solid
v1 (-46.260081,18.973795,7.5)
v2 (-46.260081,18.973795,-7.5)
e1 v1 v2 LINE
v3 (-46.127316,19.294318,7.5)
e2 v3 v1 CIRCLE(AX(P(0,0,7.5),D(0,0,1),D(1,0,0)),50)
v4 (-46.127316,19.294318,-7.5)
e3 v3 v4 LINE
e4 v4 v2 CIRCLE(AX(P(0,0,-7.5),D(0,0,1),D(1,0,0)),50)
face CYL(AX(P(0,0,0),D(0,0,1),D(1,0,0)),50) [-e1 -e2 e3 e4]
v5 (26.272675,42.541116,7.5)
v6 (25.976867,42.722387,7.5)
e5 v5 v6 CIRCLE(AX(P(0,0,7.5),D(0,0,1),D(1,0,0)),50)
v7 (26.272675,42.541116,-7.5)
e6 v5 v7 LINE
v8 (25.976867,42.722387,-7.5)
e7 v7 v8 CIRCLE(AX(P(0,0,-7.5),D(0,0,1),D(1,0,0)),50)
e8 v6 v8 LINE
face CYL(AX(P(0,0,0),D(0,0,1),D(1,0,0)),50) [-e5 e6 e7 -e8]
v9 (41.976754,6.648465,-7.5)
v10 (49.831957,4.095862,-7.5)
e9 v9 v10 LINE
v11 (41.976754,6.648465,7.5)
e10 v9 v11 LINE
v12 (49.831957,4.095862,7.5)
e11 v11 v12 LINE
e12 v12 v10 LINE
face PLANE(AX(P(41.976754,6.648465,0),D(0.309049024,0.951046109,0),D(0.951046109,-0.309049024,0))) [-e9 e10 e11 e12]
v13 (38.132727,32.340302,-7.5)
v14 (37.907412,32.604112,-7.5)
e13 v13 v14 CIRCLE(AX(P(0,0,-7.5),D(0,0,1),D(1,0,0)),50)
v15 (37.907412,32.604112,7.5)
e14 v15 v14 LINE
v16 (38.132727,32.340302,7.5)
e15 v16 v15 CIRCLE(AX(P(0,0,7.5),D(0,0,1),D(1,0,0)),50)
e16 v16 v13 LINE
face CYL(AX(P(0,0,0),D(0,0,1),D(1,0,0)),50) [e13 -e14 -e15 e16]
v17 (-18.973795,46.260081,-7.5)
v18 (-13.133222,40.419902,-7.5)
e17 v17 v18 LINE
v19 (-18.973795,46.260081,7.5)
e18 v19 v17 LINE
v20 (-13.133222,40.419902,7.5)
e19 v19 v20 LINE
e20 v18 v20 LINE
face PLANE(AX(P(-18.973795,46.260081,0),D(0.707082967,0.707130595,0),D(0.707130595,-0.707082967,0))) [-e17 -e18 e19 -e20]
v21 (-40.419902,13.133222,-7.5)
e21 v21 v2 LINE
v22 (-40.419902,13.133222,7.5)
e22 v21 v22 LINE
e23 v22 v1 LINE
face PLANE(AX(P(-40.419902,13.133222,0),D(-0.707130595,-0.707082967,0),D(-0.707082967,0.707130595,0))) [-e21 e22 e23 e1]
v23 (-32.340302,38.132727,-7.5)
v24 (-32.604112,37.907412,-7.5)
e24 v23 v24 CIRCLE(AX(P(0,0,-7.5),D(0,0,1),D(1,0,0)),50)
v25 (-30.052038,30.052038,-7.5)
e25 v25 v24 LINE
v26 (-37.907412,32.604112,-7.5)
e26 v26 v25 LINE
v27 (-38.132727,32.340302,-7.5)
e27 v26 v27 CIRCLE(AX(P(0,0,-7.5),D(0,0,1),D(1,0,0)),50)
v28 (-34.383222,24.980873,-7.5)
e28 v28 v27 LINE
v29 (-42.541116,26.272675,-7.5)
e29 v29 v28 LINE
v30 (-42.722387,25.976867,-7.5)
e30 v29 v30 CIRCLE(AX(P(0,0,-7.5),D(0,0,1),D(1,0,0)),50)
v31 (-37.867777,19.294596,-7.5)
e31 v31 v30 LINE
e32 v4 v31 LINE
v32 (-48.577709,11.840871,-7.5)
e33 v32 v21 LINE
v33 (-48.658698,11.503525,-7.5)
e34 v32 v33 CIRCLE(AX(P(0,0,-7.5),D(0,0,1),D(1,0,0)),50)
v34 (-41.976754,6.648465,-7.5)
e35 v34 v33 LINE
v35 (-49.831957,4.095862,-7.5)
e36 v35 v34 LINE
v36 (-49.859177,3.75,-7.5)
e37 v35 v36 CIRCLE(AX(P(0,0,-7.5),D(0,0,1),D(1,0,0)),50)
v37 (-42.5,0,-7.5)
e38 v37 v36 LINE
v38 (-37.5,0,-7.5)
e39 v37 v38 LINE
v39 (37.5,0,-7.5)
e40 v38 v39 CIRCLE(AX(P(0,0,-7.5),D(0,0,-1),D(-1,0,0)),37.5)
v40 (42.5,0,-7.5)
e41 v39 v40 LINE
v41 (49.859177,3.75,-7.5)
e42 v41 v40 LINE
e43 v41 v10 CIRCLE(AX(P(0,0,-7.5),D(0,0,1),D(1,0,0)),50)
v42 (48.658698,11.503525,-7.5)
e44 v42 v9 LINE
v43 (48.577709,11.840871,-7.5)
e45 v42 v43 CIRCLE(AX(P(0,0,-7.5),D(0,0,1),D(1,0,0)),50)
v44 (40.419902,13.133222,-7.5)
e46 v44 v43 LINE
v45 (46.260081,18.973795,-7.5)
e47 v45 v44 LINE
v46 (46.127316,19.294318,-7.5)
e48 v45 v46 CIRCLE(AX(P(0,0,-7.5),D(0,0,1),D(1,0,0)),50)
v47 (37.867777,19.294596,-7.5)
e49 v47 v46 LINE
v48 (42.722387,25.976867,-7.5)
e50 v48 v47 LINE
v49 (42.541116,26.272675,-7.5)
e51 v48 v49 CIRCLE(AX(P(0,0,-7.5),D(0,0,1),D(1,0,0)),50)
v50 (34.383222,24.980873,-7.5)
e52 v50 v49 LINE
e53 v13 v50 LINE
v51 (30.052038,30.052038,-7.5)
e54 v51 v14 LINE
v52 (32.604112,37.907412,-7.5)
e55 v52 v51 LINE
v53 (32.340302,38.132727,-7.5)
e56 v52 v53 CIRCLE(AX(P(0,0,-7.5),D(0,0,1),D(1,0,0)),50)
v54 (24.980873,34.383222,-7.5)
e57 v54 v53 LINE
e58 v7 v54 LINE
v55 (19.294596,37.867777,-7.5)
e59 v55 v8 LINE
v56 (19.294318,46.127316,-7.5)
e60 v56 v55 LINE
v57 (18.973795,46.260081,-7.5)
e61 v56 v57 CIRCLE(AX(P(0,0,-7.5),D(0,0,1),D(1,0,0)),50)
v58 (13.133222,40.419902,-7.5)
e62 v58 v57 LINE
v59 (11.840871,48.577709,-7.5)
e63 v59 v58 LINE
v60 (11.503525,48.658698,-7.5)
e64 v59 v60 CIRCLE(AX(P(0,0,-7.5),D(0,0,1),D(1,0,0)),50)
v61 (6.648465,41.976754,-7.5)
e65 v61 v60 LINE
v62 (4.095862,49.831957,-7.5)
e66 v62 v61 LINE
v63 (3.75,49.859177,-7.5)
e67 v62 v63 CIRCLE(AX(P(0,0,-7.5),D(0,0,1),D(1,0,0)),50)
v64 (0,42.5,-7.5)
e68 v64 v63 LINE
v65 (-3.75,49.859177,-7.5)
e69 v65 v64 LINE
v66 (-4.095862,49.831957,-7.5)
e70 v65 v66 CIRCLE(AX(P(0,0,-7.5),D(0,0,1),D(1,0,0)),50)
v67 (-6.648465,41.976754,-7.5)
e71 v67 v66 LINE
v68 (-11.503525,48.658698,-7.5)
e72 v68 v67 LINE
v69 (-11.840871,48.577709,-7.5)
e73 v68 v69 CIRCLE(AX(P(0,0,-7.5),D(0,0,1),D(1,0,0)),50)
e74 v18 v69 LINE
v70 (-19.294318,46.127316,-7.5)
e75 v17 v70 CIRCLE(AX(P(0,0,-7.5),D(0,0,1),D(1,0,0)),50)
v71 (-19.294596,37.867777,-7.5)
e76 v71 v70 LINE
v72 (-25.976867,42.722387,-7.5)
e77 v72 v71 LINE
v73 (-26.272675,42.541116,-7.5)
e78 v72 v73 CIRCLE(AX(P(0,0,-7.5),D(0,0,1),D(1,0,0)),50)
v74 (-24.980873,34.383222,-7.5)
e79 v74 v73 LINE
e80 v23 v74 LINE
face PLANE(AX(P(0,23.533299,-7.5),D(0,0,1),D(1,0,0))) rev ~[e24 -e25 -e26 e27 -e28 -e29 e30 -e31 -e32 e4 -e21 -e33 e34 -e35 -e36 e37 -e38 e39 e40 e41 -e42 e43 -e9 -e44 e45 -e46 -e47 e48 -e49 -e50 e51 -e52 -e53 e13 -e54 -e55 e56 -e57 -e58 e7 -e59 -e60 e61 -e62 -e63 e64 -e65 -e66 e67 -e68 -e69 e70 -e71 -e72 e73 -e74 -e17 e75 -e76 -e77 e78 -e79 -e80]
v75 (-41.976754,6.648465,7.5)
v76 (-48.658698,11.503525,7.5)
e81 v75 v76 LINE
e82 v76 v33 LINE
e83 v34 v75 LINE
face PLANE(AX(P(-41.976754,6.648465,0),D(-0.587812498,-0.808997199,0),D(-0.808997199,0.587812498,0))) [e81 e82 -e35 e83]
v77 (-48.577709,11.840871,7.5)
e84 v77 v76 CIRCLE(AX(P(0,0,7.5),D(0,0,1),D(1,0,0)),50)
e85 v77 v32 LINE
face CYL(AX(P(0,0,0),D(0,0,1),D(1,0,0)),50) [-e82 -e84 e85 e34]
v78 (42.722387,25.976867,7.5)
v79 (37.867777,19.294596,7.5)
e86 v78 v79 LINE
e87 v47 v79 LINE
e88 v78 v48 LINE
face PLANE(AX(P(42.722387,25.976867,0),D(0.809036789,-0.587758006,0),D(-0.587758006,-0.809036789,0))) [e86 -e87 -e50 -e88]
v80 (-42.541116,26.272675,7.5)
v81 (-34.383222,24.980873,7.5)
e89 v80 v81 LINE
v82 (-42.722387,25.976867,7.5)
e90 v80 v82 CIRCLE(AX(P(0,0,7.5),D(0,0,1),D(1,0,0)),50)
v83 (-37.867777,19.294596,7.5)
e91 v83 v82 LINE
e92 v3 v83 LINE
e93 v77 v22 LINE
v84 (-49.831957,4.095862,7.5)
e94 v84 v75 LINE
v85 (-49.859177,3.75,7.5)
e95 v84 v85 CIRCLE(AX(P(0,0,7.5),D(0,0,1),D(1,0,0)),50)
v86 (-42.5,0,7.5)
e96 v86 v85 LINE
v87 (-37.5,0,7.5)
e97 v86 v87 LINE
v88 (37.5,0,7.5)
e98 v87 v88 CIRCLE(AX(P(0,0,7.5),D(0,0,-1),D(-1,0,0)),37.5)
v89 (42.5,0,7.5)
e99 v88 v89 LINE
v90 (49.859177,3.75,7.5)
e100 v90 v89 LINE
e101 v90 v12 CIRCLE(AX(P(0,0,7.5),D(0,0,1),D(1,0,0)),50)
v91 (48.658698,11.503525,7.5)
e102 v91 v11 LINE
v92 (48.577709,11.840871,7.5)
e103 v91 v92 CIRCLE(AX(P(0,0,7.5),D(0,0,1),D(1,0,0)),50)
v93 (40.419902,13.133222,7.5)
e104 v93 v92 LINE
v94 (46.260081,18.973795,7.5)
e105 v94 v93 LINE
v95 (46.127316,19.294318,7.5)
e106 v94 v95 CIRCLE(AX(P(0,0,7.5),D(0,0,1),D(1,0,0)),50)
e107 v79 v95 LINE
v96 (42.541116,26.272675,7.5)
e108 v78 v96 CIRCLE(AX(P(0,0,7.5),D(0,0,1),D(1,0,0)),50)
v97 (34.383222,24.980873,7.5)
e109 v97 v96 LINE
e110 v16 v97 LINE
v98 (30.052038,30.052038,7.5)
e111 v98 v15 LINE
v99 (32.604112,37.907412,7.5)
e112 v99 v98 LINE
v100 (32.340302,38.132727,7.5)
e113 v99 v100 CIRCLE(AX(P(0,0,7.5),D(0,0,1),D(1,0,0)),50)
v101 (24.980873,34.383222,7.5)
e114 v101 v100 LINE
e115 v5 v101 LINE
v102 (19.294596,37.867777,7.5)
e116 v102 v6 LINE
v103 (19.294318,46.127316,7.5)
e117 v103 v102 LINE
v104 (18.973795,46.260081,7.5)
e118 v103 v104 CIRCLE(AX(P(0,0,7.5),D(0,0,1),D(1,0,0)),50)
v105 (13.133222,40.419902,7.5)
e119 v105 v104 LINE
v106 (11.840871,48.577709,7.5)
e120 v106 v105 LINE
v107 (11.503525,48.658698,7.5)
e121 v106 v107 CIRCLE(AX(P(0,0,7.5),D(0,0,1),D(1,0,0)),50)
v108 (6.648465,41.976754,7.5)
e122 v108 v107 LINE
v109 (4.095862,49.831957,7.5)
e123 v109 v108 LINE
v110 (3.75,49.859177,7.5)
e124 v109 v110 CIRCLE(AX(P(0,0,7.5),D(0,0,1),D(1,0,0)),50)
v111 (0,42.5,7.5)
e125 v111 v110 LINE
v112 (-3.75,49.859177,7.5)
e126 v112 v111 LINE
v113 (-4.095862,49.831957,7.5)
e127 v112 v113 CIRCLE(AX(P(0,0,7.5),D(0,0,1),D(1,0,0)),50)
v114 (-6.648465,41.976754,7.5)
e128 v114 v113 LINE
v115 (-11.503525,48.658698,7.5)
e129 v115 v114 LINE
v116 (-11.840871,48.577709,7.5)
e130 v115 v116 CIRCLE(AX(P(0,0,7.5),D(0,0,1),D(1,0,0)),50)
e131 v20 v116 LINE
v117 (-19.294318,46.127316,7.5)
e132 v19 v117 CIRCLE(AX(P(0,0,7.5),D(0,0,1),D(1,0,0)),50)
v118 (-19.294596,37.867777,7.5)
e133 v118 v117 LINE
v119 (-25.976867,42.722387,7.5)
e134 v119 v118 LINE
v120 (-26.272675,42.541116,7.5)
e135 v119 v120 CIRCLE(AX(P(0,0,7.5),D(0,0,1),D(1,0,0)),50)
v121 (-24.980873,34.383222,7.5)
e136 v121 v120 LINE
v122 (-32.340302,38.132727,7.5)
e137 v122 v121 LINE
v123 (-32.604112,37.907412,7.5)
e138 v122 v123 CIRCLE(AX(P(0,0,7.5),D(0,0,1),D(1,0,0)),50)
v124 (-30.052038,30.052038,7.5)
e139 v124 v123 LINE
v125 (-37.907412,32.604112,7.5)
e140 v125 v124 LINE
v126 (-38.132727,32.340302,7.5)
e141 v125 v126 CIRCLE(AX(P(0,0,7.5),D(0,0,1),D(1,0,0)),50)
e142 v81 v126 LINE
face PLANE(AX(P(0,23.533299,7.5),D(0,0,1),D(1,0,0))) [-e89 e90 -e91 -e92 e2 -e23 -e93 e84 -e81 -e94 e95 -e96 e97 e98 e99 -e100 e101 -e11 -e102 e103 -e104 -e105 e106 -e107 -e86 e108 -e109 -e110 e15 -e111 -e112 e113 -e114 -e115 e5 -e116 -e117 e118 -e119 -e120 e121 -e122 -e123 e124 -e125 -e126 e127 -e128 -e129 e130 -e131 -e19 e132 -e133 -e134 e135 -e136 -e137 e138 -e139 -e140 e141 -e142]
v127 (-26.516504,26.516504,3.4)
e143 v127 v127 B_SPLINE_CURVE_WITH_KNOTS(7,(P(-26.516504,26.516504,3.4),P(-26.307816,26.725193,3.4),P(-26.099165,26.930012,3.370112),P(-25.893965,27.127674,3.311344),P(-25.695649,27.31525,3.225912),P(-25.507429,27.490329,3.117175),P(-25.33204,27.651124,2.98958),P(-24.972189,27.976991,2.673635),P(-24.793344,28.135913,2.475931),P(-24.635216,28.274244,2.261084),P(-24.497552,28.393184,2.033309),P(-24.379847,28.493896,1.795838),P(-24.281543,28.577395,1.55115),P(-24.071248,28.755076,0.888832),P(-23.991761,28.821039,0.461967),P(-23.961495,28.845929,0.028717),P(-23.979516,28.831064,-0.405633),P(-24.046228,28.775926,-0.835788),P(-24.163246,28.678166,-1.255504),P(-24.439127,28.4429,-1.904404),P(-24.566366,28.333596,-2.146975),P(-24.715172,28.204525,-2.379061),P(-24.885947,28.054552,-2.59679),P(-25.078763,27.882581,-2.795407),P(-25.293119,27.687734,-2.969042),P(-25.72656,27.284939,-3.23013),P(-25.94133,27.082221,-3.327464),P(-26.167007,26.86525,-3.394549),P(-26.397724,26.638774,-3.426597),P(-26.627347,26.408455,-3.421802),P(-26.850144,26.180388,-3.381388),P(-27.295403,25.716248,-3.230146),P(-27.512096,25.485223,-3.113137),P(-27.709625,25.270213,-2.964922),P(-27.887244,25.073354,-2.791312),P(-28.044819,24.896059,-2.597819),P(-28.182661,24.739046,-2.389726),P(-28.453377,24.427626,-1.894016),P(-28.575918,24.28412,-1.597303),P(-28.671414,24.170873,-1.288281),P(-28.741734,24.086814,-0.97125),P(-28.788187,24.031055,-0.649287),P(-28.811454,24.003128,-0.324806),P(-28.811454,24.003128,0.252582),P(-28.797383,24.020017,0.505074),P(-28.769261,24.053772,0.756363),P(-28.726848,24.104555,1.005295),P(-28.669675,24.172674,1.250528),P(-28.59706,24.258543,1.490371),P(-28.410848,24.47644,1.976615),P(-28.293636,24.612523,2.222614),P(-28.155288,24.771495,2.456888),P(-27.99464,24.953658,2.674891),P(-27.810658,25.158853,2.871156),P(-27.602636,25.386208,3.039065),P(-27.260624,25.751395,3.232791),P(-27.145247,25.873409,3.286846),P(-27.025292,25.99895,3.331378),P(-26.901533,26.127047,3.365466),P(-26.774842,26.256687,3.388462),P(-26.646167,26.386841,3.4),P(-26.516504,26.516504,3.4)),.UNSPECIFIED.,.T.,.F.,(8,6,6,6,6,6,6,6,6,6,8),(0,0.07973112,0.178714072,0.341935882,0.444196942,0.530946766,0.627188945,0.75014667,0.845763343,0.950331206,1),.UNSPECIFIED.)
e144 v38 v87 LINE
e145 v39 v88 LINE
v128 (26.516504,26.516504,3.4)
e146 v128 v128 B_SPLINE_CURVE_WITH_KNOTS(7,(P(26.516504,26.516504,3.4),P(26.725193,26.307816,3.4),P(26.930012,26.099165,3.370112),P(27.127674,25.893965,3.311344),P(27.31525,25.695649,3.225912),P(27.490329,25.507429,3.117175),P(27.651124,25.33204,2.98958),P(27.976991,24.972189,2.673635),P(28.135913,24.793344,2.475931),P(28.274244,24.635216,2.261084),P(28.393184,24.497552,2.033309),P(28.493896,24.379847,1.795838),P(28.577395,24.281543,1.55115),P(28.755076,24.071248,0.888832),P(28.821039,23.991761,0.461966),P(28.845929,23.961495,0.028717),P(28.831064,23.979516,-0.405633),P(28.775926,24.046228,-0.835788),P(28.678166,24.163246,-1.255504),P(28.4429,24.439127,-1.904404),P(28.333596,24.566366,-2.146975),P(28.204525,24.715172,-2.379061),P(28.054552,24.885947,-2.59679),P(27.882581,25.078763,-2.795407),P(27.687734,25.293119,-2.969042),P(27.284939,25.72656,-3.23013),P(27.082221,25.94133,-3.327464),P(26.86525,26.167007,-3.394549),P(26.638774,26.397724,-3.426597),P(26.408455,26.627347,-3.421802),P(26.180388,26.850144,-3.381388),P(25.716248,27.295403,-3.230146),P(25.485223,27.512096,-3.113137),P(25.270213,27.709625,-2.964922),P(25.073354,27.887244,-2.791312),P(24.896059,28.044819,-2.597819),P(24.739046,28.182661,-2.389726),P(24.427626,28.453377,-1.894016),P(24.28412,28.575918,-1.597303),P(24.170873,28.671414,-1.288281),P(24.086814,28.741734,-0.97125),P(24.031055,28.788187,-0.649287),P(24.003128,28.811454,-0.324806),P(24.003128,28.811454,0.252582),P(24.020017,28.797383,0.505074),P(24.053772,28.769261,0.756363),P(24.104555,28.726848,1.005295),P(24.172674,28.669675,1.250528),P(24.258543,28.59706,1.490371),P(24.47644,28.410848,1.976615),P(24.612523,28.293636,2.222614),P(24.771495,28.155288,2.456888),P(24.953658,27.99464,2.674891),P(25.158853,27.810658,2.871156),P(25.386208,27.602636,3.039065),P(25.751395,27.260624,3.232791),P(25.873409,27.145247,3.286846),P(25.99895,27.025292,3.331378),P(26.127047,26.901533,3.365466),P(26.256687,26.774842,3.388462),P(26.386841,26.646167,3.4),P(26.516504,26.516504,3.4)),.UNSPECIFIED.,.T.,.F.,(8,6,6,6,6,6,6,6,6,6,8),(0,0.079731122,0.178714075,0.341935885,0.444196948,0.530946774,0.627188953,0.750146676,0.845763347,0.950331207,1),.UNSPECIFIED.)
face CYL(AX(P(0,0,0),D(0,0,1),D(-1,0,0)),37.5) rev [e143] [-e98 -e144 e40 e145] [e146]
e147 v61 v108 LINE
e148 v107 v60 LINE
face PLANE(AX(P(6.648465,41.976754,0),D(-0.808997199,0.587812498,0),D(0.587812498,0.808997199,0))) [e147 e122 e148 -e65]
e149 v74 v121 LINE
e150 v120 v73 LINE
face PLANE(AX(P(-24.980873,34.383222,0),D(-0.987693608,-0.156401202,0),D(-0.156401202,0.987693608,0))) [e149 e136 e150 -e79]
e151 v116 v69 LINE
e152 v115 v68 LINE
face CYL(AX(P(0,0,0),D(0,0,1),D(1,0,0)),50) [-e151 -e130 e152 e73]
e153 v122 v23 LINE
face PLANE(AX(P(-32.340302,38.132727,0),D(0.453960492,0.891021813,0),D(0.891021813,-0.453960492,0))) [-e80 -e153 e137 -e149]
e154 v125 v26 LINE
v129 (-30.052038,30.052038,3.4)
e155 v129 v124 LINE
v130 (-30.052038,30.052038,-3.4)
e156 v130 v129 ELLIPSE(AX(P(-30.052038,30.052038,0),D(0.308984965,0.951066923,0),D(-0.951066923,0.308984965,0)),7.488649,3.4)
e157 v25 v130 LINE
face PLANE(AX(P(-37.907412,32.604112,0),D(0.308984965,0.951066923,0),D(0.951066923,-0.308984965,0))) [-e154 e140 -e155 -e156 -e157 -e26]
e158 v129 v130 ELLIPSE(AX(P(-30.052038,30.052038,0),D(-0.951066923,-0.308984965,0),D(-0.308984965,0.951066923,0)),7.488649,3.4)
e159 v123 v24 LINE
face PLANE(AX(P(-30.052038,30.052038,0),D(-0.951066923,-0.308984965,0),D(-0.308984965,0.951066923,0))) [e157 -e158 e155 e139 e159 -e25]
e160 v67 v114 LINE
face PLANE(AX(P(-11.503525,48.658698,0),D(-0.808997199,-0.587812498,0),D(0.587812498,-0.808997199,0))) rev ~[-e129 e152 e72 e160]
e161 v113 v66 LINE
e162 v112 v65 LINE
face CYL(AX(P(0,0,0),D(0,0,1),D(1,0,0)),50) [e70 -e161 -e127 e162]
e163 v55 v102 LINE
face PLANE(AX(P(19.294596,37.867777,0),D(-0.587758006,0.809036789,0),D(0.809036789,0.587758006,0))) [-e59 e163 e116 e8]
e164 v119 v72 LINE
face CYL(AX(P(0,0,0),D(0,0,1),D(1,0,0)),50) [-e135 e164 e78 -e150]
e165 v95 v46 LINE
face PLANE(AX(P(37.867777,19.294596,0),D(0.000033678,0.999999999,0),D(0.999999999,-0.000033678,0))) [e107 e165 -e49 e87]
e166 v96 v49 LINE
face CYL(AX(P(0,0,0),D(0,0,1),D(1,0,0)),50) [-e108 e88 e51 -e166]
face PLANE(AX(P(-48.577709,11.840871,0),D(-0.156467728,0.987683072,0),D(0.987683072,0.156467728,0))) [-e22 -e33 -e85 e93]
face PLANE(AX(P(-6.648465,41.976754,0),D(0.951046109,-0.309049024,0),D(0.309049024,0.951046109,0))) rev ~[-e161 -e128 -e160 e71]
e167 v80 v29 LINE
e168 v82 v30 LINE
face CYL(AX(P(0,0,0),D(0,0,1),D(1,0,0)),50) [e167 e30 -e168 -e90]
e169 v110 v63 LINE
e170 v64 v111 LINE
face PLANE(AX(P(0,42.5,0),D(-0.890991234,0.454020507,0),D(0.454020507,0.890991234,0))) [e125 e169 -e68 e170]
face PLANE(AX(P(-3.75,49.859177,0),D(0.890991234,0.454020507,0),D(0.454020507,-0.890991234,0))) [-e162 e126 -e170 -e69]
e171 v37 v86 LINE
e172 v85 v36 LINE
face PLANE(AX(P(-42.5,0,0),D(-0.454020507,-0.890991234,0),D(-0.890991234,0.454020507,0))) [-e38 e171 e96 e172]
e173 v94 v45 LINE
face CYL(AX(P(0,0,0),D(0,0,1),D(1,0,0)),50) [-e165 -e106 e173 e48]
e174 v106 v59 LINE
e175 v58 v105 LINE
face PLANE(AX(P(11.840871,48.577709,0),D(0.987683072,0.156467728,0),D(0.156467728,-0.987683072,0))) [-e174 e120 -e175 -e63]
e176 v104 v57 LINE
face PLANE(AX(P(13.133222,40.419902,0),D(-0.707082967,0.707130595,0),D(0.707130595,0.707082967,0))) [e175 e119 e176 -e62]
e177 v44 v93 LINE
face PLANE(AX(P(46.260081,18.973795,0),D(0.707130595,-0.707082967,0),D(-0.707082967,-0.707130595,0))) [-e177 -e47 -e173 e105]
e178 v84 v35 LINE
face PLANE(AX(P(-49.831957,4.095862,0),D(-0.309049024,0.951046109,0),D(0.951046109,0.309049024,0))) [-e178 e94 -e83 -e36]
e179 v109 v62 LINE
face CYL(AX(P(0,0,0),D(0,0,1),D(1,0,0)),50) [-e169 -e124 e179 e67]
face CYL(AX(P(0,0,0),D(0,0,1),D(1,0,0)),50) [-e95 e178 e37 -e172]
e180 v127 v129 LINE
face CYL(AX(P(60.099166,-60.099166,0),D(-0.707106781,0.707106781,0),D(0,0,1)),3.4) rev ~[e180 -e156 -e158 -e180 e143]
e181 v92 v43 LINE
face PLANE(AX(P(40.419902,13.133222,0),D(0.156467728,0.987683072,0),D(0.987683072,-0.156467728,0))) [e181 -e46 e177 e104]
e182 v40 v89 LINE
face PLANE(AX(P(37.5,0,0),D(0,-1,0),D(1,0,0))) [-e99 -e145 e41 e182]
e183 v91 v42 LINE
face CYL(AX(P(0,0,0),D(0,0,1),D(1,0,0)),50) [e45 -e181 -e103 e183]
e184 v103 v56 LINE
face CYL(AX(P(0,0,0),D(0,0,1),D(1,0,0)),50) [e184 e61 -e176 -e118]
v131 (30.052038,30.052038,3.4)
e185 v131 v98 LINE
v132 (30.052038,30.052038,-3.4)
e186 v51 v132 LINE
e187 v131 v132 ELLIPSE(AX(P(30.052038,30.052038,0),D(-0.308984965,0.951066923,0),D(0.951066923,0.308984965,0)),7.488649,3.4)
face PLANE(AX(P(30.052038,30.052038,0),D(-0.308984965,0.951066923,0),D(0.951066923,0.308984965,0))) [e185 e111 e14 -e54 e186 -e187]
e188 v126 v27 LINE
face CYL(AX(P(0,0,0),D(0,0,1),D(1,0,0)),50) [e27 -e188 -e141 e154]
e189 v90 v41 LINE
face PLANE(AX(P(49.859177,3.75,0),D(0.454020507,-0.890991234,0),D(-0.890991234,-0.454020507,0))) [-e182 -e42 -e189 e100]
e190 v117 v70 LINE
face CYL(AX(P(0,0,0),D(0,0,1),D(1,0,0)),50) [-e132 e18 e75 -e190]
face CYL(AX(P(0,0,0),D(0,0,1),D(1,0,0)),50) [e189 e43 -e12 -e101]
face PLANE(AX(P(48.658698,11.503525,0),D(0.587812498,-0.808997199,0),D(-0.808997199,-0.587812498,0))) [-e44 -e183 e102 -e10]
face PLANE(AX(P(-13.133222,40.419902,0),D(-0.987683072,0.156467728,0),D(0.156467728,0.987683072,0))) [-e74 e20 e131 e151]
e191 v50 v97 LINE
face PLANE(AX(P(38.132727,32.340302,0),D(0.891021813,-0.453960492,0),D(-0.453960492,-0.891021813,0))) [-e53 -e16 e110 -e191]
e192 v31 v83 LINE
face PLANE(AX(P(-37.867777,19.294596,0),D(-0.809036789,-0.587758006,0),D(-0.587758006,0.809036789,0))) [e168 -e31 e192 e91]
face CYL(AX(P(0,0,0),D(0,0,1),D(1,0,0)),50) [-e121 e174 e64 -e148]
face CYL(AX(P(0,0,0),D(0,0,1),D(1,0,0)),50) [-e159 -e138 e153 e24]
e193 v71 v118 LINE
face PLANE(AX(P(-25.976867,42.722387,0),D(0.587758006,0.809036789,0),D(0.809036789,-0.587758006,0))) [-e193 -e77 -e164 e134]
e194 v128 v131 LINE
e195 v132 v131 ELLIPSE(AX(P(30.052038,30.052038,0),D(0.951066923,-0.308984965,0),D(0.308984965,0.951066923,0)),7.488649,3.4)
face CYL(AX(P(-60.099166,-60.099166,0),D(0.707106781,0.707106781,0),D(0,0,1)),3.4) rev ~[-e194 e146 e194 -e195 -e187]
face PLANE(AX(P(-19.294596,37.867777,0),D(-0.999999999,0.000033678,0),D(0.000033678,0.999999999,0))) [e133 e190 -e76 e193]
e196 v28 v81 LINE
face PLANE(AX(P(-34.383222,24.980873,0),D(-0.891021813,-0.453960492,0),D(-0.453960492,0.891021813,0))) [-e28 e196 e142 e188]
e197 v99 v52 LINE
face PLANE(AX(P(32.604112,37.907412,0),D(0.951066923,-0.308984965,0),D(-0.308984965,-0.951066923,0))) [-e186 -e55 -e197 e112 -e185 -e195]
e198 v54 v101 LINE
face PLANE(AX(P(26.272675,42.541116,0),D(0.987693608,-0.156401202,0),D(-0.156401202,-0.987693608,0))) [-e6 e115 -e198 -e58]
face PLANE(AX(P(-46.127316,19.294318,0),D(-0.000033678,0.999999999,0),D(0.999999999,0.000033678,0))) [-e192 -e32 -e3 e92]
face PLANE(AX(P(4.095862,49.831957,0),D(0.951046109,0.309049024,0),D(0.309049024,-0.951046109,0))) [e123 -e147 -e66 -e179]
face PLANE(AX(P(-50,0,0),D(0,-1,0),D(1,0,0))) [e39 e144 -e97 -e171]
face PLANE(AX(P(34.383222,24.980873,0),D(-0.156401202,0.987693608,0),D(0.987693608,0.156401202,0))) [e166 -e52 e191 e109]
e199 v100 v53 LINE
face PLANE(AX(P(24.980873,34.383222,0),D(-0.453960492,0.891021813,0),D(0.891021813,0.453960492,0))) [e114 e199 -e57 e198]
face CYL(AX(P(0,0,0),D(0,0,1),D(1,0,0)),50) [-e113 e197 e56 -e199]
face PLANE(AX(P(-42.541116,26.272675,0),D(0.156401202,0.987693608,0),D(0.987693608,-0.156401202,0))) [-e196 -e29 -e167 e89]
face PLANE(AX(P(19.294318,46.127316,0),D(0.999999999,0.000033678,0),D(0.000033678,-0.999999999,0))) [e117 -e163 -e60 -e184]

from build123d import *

# Parameters (mm, degrees)
BOSS_EXTRUDE1_DEPTH    = 7.5
CUT_EXTRUDE1_DEPTH     = 7.5
M8X1_25_TAPPED_HOLE4_D = 6.8
M8X1_25_TAPPED_HOLE5_D = 6.8


with BuildPart() as part:
    # Sketch1 → Boss-Extrude1 (new body, symmetric)
    with BuildSketch(Plane.XY):
        with BuildLine():
            Line((-50, 0), (-37.5, 0))
            ThreePointArc((-37.5, 0), (0, 37.5), (37.5, 0))
            Line((37.5, 0), (50, 0))
            ThreePointArc((50, 0), (0, 50), (-50, 0))
        make_face()
    extrude(amount=BOSS_EXTRUDE1_DEPTH, both=True)

    # Sketch2 → Cut-Extrude1 (cut, symmetric)
    with BuildSketch(Plane.XY):
        with BuildLine():
            Line((-3.75, 49.859176688), (0, 42.5))
            Line((0, 42.5), (3.75, 49.859176688))
            ThreePointArc((3.75, 49.859176688), (0, 50), (-3.75, 49.859176688))
        make_face()
        with BuildLine():
            Line((4.095862355, 49.83195673), (6.648464764, 41.976754475))
            Line((6.648464764, 41.976754475), (11.50352491, 48.658698242))
            ThreePointArc((11.50352491, 48.658698242), (7.821723252, 49.38441703), (4.095862355, 49.83195673))
        make_face()
        with BuildLine():
            Line((11.840870986, 48.577708615), (13.133222261, 40.419901943))
            Line((13.133222261, 40.419901943), (18.973794858, 46.260081157))
            ThreePointArc((18.973794858, 46.260081157), (15.450849719, 47.552825815), (11.840870986, 48.577708615))
        make_face()
        with BuildLine():
            Line((19.294318075, 46.127316094), (19.294596239, 37.867777278))
            Line((19.294596239, 37.867777278), (25.976867007, 42.722387346))
            ThreePointArc((25.976867007, 42.722387346), (22.699524987, 44.550326209), (19.294318075, 46.127316094))
        make_face()
        with BuildLine():
            Line((26.27267502, 42.541115962), (24.980873222, 34.383222261))
            Line((24.980873222, 34.383222261), (32.340302478, 38.13272657))
            ThreePointArc((32.340302478, 38.13272657), (29.389262615, 40.450849719), (26.27267502, 42.541115962))
        make_face()
        with BuildLine():
            Line((32.604111511, 37.90741237), (30.0520382, 30.0520382))
            Line((30.0520382, 30.0520382), (37.90741237, 32.604111511))
            ThreePointArc((37.90741237, 32.604111511), (35.355339059, 35.355339059), (32.604111511, 37.90741237))
        make_face()
        with BuildLine():
            Line((38.13272657, 32.340302478), (34.383222261, 24.980873222))
            Line((34.383222261, 24.980873222), (42.541115962, 26.27267502))
            ThreePointArc((42.541115962, 26.27267502), (40.450849719, 29.389262615), (38.13272657, 32.340302478))
        make_face()
        with BuildLine():
            Line((42.722387346, 25.976867007), (37.867777278, 19.294596239))
            Line((37.867777278, 19.294596239), (46.127316094, 19.294318075))
            ThreePointArc((46.127316094, 19.294318075), (44.550326209, 22.699524987), (42.722387346, 25.976867007))
        make_face()
        with BuildLine():
            Line((46.260081157, 18.973794858), (40.419901943, 13.133222261))
            Line((40.419901943, 13.133222261), (48.577708615, 11.840870986))
            ThreePointArc((48.577708615, 11.840870986), (47.552825815, 15.450849719), (46.260081157, 18.973794858))
        make_face()
        with BuildLine():
            Line((48.658698242, 11.50352491), (41.976754475, 6.648464764))
            Line((41.976754475, 6.648464764), (49.83195673, 4.095862355))
            ThreePointArc((49.83195673, 4.095862355), (49.38441703, 7.821723252), (48.658698242, 11.50352491))
        make_face()
        with BuildLine():
            Line((49.859176688, 3.75), (42.5, 0))
            Line((42.5, 0), (49.859176688, -3.75))
            ThreePointArc((49.859176688, -3.75), (50, 0), (49.859176688, 3.75))
        make_face()
        with BuildLine():
            Line((-49.859176688, -3.75), (-42.5, 0))
            Line((-42.5, 0), (-49.859176688, 3.75))
            ThreePointArc((-49.859176688, 3.75), (-50, 0), (-49.859176688, -3.75))
        make_face()
        with BuildLine():
            Line((-49.83195673, 4.095862355), (-41.976754475, 6.648464764))
            Line((-41.976754475, 6.648464764), (-48.658698242, 11.50352491))
            ThreePointArc((-48.658698242, 11.50352491), (-49.38441703, 7.821723252), (-49.83195673, 4.095862355))
        make_face()
        with BuildLine():
            Line((-48.577708615, 11.840870986), (-40.419901943, 13.133222261))
            Line((-40.419901943, 13.133222261), (-46.260081157, 18.973794858))
            ThreePointArc((-46.260081157, 18.973794858), (-47.552825815, 15.450849719), (-48.577708615, 11.840870986))
        make_face()
        with BuildLine():
            Line((-46.127316094, 19.294318075), (-37.867777278, 19.294596239))
            Line((-37.867777278, 19.294596239), (-42.722387346, 25.976867007))
            ThreePointArc((-42.722387346, 25.976867007), (-44.550326209, 22.699524987), (-46.127316094, 19.294318075))
        make_face()
        with BuildLine():
            Line((-42.541115962, 26.27267502), (-34.383222261, 24.980873222))
            Line((-34.383222261, 24.980873222), (-38.13272657, 32.340302478))
            ThreePointArc((-38.13272657, 32.340302478), (-40.450849719, 29.389262615), (-42.541115962, 26.27267502))
        make_face()
        with BuildLine():
            Line((-37.90741237, 32.604111511), (-30.0520382, 30.0520382))
            Line((-30.0520382, 30.0520382), (-32.604111511, 37.90741237))
            ThreePointArc((-32.604111511, 37.90741237), (-35.355339059, 35.355339059), (-37.90741237, 32.604111511))
        make_face()
        with BuildLine():
            Line((-32.340302478, 38.13272657), (-24.980873222, 34.383222261))
            Line((-24.980873222, 34.383222261), (-26.27267502, 42.541115962))
            ThreePointArc((-26.27267502, 42.541115962), (-29.389262615, 40.450849719), (-32.340302478, 38.13272657))
        make_face()
        with BuildLine():
            Line((-25.976867007, 42.722387346), (-19.294596239, 37.867777278))
            Line((-19.294596239, 37.867777278), (-19.294318075, 46.127316094))
            ThreePointArc((-19.294318075, 46.127316094), (-22.699524987, 44.550326209), (-25.976867007, 42.722387346))
        make_face()
        with BuildLine():
            Line((-18.973794858, 46.260081157), (-13.133222261, 40.419901943))
            Line((-13.133222261, 40.419901943), (-11.840870986, 48.577708615))
            ThreePointArc((-11.840870986, 48.577708615), (-15.450849719, 47.552825815), (-18.973794858, 46.260081157))
        make_face()
        with BuildLine():
            Line((-11.50352491, 48.658698242), (-6.648464764, 41.976754475))
            Line((-6.648464764, 41.976754475), (-4.095862355, 49.83195673))
            ThreePointArc((-4.095862355, 49.83195673), (-7.821723252, 49.38441703), (-11.50352491, 48.658698242))
        make_face()
    extrude(amount=CUT_EXTRUDE1_DEPTH, both=True, mode=Mode.SUBTRACT)

    # M8x1.25 Tapped Hole4 (through all)
    with Locations(Plane(origin=(-19.445436483, 19.445436483, 0), x_dir=(0, 0, -1), z_dir=(0.707106781, -0.707106781, 0))):
        with Locations((0, 0)):
            Hole(M8X1_25_TAPPED_HOLE4_D / 2)

    # M8x1.25 Tapped Hole5 (through all)
    with Locations(Plane(origin=(19.445436483, 19.445436483, 0), x_dir=(0, 0, -1), z_dir=(-0.707106781, -0.707106781, 0))):
        with Locations((0, 0)):
            Hole(M8X1_25_TAPPED_HOLE5_D / 2)


solid = part.part
